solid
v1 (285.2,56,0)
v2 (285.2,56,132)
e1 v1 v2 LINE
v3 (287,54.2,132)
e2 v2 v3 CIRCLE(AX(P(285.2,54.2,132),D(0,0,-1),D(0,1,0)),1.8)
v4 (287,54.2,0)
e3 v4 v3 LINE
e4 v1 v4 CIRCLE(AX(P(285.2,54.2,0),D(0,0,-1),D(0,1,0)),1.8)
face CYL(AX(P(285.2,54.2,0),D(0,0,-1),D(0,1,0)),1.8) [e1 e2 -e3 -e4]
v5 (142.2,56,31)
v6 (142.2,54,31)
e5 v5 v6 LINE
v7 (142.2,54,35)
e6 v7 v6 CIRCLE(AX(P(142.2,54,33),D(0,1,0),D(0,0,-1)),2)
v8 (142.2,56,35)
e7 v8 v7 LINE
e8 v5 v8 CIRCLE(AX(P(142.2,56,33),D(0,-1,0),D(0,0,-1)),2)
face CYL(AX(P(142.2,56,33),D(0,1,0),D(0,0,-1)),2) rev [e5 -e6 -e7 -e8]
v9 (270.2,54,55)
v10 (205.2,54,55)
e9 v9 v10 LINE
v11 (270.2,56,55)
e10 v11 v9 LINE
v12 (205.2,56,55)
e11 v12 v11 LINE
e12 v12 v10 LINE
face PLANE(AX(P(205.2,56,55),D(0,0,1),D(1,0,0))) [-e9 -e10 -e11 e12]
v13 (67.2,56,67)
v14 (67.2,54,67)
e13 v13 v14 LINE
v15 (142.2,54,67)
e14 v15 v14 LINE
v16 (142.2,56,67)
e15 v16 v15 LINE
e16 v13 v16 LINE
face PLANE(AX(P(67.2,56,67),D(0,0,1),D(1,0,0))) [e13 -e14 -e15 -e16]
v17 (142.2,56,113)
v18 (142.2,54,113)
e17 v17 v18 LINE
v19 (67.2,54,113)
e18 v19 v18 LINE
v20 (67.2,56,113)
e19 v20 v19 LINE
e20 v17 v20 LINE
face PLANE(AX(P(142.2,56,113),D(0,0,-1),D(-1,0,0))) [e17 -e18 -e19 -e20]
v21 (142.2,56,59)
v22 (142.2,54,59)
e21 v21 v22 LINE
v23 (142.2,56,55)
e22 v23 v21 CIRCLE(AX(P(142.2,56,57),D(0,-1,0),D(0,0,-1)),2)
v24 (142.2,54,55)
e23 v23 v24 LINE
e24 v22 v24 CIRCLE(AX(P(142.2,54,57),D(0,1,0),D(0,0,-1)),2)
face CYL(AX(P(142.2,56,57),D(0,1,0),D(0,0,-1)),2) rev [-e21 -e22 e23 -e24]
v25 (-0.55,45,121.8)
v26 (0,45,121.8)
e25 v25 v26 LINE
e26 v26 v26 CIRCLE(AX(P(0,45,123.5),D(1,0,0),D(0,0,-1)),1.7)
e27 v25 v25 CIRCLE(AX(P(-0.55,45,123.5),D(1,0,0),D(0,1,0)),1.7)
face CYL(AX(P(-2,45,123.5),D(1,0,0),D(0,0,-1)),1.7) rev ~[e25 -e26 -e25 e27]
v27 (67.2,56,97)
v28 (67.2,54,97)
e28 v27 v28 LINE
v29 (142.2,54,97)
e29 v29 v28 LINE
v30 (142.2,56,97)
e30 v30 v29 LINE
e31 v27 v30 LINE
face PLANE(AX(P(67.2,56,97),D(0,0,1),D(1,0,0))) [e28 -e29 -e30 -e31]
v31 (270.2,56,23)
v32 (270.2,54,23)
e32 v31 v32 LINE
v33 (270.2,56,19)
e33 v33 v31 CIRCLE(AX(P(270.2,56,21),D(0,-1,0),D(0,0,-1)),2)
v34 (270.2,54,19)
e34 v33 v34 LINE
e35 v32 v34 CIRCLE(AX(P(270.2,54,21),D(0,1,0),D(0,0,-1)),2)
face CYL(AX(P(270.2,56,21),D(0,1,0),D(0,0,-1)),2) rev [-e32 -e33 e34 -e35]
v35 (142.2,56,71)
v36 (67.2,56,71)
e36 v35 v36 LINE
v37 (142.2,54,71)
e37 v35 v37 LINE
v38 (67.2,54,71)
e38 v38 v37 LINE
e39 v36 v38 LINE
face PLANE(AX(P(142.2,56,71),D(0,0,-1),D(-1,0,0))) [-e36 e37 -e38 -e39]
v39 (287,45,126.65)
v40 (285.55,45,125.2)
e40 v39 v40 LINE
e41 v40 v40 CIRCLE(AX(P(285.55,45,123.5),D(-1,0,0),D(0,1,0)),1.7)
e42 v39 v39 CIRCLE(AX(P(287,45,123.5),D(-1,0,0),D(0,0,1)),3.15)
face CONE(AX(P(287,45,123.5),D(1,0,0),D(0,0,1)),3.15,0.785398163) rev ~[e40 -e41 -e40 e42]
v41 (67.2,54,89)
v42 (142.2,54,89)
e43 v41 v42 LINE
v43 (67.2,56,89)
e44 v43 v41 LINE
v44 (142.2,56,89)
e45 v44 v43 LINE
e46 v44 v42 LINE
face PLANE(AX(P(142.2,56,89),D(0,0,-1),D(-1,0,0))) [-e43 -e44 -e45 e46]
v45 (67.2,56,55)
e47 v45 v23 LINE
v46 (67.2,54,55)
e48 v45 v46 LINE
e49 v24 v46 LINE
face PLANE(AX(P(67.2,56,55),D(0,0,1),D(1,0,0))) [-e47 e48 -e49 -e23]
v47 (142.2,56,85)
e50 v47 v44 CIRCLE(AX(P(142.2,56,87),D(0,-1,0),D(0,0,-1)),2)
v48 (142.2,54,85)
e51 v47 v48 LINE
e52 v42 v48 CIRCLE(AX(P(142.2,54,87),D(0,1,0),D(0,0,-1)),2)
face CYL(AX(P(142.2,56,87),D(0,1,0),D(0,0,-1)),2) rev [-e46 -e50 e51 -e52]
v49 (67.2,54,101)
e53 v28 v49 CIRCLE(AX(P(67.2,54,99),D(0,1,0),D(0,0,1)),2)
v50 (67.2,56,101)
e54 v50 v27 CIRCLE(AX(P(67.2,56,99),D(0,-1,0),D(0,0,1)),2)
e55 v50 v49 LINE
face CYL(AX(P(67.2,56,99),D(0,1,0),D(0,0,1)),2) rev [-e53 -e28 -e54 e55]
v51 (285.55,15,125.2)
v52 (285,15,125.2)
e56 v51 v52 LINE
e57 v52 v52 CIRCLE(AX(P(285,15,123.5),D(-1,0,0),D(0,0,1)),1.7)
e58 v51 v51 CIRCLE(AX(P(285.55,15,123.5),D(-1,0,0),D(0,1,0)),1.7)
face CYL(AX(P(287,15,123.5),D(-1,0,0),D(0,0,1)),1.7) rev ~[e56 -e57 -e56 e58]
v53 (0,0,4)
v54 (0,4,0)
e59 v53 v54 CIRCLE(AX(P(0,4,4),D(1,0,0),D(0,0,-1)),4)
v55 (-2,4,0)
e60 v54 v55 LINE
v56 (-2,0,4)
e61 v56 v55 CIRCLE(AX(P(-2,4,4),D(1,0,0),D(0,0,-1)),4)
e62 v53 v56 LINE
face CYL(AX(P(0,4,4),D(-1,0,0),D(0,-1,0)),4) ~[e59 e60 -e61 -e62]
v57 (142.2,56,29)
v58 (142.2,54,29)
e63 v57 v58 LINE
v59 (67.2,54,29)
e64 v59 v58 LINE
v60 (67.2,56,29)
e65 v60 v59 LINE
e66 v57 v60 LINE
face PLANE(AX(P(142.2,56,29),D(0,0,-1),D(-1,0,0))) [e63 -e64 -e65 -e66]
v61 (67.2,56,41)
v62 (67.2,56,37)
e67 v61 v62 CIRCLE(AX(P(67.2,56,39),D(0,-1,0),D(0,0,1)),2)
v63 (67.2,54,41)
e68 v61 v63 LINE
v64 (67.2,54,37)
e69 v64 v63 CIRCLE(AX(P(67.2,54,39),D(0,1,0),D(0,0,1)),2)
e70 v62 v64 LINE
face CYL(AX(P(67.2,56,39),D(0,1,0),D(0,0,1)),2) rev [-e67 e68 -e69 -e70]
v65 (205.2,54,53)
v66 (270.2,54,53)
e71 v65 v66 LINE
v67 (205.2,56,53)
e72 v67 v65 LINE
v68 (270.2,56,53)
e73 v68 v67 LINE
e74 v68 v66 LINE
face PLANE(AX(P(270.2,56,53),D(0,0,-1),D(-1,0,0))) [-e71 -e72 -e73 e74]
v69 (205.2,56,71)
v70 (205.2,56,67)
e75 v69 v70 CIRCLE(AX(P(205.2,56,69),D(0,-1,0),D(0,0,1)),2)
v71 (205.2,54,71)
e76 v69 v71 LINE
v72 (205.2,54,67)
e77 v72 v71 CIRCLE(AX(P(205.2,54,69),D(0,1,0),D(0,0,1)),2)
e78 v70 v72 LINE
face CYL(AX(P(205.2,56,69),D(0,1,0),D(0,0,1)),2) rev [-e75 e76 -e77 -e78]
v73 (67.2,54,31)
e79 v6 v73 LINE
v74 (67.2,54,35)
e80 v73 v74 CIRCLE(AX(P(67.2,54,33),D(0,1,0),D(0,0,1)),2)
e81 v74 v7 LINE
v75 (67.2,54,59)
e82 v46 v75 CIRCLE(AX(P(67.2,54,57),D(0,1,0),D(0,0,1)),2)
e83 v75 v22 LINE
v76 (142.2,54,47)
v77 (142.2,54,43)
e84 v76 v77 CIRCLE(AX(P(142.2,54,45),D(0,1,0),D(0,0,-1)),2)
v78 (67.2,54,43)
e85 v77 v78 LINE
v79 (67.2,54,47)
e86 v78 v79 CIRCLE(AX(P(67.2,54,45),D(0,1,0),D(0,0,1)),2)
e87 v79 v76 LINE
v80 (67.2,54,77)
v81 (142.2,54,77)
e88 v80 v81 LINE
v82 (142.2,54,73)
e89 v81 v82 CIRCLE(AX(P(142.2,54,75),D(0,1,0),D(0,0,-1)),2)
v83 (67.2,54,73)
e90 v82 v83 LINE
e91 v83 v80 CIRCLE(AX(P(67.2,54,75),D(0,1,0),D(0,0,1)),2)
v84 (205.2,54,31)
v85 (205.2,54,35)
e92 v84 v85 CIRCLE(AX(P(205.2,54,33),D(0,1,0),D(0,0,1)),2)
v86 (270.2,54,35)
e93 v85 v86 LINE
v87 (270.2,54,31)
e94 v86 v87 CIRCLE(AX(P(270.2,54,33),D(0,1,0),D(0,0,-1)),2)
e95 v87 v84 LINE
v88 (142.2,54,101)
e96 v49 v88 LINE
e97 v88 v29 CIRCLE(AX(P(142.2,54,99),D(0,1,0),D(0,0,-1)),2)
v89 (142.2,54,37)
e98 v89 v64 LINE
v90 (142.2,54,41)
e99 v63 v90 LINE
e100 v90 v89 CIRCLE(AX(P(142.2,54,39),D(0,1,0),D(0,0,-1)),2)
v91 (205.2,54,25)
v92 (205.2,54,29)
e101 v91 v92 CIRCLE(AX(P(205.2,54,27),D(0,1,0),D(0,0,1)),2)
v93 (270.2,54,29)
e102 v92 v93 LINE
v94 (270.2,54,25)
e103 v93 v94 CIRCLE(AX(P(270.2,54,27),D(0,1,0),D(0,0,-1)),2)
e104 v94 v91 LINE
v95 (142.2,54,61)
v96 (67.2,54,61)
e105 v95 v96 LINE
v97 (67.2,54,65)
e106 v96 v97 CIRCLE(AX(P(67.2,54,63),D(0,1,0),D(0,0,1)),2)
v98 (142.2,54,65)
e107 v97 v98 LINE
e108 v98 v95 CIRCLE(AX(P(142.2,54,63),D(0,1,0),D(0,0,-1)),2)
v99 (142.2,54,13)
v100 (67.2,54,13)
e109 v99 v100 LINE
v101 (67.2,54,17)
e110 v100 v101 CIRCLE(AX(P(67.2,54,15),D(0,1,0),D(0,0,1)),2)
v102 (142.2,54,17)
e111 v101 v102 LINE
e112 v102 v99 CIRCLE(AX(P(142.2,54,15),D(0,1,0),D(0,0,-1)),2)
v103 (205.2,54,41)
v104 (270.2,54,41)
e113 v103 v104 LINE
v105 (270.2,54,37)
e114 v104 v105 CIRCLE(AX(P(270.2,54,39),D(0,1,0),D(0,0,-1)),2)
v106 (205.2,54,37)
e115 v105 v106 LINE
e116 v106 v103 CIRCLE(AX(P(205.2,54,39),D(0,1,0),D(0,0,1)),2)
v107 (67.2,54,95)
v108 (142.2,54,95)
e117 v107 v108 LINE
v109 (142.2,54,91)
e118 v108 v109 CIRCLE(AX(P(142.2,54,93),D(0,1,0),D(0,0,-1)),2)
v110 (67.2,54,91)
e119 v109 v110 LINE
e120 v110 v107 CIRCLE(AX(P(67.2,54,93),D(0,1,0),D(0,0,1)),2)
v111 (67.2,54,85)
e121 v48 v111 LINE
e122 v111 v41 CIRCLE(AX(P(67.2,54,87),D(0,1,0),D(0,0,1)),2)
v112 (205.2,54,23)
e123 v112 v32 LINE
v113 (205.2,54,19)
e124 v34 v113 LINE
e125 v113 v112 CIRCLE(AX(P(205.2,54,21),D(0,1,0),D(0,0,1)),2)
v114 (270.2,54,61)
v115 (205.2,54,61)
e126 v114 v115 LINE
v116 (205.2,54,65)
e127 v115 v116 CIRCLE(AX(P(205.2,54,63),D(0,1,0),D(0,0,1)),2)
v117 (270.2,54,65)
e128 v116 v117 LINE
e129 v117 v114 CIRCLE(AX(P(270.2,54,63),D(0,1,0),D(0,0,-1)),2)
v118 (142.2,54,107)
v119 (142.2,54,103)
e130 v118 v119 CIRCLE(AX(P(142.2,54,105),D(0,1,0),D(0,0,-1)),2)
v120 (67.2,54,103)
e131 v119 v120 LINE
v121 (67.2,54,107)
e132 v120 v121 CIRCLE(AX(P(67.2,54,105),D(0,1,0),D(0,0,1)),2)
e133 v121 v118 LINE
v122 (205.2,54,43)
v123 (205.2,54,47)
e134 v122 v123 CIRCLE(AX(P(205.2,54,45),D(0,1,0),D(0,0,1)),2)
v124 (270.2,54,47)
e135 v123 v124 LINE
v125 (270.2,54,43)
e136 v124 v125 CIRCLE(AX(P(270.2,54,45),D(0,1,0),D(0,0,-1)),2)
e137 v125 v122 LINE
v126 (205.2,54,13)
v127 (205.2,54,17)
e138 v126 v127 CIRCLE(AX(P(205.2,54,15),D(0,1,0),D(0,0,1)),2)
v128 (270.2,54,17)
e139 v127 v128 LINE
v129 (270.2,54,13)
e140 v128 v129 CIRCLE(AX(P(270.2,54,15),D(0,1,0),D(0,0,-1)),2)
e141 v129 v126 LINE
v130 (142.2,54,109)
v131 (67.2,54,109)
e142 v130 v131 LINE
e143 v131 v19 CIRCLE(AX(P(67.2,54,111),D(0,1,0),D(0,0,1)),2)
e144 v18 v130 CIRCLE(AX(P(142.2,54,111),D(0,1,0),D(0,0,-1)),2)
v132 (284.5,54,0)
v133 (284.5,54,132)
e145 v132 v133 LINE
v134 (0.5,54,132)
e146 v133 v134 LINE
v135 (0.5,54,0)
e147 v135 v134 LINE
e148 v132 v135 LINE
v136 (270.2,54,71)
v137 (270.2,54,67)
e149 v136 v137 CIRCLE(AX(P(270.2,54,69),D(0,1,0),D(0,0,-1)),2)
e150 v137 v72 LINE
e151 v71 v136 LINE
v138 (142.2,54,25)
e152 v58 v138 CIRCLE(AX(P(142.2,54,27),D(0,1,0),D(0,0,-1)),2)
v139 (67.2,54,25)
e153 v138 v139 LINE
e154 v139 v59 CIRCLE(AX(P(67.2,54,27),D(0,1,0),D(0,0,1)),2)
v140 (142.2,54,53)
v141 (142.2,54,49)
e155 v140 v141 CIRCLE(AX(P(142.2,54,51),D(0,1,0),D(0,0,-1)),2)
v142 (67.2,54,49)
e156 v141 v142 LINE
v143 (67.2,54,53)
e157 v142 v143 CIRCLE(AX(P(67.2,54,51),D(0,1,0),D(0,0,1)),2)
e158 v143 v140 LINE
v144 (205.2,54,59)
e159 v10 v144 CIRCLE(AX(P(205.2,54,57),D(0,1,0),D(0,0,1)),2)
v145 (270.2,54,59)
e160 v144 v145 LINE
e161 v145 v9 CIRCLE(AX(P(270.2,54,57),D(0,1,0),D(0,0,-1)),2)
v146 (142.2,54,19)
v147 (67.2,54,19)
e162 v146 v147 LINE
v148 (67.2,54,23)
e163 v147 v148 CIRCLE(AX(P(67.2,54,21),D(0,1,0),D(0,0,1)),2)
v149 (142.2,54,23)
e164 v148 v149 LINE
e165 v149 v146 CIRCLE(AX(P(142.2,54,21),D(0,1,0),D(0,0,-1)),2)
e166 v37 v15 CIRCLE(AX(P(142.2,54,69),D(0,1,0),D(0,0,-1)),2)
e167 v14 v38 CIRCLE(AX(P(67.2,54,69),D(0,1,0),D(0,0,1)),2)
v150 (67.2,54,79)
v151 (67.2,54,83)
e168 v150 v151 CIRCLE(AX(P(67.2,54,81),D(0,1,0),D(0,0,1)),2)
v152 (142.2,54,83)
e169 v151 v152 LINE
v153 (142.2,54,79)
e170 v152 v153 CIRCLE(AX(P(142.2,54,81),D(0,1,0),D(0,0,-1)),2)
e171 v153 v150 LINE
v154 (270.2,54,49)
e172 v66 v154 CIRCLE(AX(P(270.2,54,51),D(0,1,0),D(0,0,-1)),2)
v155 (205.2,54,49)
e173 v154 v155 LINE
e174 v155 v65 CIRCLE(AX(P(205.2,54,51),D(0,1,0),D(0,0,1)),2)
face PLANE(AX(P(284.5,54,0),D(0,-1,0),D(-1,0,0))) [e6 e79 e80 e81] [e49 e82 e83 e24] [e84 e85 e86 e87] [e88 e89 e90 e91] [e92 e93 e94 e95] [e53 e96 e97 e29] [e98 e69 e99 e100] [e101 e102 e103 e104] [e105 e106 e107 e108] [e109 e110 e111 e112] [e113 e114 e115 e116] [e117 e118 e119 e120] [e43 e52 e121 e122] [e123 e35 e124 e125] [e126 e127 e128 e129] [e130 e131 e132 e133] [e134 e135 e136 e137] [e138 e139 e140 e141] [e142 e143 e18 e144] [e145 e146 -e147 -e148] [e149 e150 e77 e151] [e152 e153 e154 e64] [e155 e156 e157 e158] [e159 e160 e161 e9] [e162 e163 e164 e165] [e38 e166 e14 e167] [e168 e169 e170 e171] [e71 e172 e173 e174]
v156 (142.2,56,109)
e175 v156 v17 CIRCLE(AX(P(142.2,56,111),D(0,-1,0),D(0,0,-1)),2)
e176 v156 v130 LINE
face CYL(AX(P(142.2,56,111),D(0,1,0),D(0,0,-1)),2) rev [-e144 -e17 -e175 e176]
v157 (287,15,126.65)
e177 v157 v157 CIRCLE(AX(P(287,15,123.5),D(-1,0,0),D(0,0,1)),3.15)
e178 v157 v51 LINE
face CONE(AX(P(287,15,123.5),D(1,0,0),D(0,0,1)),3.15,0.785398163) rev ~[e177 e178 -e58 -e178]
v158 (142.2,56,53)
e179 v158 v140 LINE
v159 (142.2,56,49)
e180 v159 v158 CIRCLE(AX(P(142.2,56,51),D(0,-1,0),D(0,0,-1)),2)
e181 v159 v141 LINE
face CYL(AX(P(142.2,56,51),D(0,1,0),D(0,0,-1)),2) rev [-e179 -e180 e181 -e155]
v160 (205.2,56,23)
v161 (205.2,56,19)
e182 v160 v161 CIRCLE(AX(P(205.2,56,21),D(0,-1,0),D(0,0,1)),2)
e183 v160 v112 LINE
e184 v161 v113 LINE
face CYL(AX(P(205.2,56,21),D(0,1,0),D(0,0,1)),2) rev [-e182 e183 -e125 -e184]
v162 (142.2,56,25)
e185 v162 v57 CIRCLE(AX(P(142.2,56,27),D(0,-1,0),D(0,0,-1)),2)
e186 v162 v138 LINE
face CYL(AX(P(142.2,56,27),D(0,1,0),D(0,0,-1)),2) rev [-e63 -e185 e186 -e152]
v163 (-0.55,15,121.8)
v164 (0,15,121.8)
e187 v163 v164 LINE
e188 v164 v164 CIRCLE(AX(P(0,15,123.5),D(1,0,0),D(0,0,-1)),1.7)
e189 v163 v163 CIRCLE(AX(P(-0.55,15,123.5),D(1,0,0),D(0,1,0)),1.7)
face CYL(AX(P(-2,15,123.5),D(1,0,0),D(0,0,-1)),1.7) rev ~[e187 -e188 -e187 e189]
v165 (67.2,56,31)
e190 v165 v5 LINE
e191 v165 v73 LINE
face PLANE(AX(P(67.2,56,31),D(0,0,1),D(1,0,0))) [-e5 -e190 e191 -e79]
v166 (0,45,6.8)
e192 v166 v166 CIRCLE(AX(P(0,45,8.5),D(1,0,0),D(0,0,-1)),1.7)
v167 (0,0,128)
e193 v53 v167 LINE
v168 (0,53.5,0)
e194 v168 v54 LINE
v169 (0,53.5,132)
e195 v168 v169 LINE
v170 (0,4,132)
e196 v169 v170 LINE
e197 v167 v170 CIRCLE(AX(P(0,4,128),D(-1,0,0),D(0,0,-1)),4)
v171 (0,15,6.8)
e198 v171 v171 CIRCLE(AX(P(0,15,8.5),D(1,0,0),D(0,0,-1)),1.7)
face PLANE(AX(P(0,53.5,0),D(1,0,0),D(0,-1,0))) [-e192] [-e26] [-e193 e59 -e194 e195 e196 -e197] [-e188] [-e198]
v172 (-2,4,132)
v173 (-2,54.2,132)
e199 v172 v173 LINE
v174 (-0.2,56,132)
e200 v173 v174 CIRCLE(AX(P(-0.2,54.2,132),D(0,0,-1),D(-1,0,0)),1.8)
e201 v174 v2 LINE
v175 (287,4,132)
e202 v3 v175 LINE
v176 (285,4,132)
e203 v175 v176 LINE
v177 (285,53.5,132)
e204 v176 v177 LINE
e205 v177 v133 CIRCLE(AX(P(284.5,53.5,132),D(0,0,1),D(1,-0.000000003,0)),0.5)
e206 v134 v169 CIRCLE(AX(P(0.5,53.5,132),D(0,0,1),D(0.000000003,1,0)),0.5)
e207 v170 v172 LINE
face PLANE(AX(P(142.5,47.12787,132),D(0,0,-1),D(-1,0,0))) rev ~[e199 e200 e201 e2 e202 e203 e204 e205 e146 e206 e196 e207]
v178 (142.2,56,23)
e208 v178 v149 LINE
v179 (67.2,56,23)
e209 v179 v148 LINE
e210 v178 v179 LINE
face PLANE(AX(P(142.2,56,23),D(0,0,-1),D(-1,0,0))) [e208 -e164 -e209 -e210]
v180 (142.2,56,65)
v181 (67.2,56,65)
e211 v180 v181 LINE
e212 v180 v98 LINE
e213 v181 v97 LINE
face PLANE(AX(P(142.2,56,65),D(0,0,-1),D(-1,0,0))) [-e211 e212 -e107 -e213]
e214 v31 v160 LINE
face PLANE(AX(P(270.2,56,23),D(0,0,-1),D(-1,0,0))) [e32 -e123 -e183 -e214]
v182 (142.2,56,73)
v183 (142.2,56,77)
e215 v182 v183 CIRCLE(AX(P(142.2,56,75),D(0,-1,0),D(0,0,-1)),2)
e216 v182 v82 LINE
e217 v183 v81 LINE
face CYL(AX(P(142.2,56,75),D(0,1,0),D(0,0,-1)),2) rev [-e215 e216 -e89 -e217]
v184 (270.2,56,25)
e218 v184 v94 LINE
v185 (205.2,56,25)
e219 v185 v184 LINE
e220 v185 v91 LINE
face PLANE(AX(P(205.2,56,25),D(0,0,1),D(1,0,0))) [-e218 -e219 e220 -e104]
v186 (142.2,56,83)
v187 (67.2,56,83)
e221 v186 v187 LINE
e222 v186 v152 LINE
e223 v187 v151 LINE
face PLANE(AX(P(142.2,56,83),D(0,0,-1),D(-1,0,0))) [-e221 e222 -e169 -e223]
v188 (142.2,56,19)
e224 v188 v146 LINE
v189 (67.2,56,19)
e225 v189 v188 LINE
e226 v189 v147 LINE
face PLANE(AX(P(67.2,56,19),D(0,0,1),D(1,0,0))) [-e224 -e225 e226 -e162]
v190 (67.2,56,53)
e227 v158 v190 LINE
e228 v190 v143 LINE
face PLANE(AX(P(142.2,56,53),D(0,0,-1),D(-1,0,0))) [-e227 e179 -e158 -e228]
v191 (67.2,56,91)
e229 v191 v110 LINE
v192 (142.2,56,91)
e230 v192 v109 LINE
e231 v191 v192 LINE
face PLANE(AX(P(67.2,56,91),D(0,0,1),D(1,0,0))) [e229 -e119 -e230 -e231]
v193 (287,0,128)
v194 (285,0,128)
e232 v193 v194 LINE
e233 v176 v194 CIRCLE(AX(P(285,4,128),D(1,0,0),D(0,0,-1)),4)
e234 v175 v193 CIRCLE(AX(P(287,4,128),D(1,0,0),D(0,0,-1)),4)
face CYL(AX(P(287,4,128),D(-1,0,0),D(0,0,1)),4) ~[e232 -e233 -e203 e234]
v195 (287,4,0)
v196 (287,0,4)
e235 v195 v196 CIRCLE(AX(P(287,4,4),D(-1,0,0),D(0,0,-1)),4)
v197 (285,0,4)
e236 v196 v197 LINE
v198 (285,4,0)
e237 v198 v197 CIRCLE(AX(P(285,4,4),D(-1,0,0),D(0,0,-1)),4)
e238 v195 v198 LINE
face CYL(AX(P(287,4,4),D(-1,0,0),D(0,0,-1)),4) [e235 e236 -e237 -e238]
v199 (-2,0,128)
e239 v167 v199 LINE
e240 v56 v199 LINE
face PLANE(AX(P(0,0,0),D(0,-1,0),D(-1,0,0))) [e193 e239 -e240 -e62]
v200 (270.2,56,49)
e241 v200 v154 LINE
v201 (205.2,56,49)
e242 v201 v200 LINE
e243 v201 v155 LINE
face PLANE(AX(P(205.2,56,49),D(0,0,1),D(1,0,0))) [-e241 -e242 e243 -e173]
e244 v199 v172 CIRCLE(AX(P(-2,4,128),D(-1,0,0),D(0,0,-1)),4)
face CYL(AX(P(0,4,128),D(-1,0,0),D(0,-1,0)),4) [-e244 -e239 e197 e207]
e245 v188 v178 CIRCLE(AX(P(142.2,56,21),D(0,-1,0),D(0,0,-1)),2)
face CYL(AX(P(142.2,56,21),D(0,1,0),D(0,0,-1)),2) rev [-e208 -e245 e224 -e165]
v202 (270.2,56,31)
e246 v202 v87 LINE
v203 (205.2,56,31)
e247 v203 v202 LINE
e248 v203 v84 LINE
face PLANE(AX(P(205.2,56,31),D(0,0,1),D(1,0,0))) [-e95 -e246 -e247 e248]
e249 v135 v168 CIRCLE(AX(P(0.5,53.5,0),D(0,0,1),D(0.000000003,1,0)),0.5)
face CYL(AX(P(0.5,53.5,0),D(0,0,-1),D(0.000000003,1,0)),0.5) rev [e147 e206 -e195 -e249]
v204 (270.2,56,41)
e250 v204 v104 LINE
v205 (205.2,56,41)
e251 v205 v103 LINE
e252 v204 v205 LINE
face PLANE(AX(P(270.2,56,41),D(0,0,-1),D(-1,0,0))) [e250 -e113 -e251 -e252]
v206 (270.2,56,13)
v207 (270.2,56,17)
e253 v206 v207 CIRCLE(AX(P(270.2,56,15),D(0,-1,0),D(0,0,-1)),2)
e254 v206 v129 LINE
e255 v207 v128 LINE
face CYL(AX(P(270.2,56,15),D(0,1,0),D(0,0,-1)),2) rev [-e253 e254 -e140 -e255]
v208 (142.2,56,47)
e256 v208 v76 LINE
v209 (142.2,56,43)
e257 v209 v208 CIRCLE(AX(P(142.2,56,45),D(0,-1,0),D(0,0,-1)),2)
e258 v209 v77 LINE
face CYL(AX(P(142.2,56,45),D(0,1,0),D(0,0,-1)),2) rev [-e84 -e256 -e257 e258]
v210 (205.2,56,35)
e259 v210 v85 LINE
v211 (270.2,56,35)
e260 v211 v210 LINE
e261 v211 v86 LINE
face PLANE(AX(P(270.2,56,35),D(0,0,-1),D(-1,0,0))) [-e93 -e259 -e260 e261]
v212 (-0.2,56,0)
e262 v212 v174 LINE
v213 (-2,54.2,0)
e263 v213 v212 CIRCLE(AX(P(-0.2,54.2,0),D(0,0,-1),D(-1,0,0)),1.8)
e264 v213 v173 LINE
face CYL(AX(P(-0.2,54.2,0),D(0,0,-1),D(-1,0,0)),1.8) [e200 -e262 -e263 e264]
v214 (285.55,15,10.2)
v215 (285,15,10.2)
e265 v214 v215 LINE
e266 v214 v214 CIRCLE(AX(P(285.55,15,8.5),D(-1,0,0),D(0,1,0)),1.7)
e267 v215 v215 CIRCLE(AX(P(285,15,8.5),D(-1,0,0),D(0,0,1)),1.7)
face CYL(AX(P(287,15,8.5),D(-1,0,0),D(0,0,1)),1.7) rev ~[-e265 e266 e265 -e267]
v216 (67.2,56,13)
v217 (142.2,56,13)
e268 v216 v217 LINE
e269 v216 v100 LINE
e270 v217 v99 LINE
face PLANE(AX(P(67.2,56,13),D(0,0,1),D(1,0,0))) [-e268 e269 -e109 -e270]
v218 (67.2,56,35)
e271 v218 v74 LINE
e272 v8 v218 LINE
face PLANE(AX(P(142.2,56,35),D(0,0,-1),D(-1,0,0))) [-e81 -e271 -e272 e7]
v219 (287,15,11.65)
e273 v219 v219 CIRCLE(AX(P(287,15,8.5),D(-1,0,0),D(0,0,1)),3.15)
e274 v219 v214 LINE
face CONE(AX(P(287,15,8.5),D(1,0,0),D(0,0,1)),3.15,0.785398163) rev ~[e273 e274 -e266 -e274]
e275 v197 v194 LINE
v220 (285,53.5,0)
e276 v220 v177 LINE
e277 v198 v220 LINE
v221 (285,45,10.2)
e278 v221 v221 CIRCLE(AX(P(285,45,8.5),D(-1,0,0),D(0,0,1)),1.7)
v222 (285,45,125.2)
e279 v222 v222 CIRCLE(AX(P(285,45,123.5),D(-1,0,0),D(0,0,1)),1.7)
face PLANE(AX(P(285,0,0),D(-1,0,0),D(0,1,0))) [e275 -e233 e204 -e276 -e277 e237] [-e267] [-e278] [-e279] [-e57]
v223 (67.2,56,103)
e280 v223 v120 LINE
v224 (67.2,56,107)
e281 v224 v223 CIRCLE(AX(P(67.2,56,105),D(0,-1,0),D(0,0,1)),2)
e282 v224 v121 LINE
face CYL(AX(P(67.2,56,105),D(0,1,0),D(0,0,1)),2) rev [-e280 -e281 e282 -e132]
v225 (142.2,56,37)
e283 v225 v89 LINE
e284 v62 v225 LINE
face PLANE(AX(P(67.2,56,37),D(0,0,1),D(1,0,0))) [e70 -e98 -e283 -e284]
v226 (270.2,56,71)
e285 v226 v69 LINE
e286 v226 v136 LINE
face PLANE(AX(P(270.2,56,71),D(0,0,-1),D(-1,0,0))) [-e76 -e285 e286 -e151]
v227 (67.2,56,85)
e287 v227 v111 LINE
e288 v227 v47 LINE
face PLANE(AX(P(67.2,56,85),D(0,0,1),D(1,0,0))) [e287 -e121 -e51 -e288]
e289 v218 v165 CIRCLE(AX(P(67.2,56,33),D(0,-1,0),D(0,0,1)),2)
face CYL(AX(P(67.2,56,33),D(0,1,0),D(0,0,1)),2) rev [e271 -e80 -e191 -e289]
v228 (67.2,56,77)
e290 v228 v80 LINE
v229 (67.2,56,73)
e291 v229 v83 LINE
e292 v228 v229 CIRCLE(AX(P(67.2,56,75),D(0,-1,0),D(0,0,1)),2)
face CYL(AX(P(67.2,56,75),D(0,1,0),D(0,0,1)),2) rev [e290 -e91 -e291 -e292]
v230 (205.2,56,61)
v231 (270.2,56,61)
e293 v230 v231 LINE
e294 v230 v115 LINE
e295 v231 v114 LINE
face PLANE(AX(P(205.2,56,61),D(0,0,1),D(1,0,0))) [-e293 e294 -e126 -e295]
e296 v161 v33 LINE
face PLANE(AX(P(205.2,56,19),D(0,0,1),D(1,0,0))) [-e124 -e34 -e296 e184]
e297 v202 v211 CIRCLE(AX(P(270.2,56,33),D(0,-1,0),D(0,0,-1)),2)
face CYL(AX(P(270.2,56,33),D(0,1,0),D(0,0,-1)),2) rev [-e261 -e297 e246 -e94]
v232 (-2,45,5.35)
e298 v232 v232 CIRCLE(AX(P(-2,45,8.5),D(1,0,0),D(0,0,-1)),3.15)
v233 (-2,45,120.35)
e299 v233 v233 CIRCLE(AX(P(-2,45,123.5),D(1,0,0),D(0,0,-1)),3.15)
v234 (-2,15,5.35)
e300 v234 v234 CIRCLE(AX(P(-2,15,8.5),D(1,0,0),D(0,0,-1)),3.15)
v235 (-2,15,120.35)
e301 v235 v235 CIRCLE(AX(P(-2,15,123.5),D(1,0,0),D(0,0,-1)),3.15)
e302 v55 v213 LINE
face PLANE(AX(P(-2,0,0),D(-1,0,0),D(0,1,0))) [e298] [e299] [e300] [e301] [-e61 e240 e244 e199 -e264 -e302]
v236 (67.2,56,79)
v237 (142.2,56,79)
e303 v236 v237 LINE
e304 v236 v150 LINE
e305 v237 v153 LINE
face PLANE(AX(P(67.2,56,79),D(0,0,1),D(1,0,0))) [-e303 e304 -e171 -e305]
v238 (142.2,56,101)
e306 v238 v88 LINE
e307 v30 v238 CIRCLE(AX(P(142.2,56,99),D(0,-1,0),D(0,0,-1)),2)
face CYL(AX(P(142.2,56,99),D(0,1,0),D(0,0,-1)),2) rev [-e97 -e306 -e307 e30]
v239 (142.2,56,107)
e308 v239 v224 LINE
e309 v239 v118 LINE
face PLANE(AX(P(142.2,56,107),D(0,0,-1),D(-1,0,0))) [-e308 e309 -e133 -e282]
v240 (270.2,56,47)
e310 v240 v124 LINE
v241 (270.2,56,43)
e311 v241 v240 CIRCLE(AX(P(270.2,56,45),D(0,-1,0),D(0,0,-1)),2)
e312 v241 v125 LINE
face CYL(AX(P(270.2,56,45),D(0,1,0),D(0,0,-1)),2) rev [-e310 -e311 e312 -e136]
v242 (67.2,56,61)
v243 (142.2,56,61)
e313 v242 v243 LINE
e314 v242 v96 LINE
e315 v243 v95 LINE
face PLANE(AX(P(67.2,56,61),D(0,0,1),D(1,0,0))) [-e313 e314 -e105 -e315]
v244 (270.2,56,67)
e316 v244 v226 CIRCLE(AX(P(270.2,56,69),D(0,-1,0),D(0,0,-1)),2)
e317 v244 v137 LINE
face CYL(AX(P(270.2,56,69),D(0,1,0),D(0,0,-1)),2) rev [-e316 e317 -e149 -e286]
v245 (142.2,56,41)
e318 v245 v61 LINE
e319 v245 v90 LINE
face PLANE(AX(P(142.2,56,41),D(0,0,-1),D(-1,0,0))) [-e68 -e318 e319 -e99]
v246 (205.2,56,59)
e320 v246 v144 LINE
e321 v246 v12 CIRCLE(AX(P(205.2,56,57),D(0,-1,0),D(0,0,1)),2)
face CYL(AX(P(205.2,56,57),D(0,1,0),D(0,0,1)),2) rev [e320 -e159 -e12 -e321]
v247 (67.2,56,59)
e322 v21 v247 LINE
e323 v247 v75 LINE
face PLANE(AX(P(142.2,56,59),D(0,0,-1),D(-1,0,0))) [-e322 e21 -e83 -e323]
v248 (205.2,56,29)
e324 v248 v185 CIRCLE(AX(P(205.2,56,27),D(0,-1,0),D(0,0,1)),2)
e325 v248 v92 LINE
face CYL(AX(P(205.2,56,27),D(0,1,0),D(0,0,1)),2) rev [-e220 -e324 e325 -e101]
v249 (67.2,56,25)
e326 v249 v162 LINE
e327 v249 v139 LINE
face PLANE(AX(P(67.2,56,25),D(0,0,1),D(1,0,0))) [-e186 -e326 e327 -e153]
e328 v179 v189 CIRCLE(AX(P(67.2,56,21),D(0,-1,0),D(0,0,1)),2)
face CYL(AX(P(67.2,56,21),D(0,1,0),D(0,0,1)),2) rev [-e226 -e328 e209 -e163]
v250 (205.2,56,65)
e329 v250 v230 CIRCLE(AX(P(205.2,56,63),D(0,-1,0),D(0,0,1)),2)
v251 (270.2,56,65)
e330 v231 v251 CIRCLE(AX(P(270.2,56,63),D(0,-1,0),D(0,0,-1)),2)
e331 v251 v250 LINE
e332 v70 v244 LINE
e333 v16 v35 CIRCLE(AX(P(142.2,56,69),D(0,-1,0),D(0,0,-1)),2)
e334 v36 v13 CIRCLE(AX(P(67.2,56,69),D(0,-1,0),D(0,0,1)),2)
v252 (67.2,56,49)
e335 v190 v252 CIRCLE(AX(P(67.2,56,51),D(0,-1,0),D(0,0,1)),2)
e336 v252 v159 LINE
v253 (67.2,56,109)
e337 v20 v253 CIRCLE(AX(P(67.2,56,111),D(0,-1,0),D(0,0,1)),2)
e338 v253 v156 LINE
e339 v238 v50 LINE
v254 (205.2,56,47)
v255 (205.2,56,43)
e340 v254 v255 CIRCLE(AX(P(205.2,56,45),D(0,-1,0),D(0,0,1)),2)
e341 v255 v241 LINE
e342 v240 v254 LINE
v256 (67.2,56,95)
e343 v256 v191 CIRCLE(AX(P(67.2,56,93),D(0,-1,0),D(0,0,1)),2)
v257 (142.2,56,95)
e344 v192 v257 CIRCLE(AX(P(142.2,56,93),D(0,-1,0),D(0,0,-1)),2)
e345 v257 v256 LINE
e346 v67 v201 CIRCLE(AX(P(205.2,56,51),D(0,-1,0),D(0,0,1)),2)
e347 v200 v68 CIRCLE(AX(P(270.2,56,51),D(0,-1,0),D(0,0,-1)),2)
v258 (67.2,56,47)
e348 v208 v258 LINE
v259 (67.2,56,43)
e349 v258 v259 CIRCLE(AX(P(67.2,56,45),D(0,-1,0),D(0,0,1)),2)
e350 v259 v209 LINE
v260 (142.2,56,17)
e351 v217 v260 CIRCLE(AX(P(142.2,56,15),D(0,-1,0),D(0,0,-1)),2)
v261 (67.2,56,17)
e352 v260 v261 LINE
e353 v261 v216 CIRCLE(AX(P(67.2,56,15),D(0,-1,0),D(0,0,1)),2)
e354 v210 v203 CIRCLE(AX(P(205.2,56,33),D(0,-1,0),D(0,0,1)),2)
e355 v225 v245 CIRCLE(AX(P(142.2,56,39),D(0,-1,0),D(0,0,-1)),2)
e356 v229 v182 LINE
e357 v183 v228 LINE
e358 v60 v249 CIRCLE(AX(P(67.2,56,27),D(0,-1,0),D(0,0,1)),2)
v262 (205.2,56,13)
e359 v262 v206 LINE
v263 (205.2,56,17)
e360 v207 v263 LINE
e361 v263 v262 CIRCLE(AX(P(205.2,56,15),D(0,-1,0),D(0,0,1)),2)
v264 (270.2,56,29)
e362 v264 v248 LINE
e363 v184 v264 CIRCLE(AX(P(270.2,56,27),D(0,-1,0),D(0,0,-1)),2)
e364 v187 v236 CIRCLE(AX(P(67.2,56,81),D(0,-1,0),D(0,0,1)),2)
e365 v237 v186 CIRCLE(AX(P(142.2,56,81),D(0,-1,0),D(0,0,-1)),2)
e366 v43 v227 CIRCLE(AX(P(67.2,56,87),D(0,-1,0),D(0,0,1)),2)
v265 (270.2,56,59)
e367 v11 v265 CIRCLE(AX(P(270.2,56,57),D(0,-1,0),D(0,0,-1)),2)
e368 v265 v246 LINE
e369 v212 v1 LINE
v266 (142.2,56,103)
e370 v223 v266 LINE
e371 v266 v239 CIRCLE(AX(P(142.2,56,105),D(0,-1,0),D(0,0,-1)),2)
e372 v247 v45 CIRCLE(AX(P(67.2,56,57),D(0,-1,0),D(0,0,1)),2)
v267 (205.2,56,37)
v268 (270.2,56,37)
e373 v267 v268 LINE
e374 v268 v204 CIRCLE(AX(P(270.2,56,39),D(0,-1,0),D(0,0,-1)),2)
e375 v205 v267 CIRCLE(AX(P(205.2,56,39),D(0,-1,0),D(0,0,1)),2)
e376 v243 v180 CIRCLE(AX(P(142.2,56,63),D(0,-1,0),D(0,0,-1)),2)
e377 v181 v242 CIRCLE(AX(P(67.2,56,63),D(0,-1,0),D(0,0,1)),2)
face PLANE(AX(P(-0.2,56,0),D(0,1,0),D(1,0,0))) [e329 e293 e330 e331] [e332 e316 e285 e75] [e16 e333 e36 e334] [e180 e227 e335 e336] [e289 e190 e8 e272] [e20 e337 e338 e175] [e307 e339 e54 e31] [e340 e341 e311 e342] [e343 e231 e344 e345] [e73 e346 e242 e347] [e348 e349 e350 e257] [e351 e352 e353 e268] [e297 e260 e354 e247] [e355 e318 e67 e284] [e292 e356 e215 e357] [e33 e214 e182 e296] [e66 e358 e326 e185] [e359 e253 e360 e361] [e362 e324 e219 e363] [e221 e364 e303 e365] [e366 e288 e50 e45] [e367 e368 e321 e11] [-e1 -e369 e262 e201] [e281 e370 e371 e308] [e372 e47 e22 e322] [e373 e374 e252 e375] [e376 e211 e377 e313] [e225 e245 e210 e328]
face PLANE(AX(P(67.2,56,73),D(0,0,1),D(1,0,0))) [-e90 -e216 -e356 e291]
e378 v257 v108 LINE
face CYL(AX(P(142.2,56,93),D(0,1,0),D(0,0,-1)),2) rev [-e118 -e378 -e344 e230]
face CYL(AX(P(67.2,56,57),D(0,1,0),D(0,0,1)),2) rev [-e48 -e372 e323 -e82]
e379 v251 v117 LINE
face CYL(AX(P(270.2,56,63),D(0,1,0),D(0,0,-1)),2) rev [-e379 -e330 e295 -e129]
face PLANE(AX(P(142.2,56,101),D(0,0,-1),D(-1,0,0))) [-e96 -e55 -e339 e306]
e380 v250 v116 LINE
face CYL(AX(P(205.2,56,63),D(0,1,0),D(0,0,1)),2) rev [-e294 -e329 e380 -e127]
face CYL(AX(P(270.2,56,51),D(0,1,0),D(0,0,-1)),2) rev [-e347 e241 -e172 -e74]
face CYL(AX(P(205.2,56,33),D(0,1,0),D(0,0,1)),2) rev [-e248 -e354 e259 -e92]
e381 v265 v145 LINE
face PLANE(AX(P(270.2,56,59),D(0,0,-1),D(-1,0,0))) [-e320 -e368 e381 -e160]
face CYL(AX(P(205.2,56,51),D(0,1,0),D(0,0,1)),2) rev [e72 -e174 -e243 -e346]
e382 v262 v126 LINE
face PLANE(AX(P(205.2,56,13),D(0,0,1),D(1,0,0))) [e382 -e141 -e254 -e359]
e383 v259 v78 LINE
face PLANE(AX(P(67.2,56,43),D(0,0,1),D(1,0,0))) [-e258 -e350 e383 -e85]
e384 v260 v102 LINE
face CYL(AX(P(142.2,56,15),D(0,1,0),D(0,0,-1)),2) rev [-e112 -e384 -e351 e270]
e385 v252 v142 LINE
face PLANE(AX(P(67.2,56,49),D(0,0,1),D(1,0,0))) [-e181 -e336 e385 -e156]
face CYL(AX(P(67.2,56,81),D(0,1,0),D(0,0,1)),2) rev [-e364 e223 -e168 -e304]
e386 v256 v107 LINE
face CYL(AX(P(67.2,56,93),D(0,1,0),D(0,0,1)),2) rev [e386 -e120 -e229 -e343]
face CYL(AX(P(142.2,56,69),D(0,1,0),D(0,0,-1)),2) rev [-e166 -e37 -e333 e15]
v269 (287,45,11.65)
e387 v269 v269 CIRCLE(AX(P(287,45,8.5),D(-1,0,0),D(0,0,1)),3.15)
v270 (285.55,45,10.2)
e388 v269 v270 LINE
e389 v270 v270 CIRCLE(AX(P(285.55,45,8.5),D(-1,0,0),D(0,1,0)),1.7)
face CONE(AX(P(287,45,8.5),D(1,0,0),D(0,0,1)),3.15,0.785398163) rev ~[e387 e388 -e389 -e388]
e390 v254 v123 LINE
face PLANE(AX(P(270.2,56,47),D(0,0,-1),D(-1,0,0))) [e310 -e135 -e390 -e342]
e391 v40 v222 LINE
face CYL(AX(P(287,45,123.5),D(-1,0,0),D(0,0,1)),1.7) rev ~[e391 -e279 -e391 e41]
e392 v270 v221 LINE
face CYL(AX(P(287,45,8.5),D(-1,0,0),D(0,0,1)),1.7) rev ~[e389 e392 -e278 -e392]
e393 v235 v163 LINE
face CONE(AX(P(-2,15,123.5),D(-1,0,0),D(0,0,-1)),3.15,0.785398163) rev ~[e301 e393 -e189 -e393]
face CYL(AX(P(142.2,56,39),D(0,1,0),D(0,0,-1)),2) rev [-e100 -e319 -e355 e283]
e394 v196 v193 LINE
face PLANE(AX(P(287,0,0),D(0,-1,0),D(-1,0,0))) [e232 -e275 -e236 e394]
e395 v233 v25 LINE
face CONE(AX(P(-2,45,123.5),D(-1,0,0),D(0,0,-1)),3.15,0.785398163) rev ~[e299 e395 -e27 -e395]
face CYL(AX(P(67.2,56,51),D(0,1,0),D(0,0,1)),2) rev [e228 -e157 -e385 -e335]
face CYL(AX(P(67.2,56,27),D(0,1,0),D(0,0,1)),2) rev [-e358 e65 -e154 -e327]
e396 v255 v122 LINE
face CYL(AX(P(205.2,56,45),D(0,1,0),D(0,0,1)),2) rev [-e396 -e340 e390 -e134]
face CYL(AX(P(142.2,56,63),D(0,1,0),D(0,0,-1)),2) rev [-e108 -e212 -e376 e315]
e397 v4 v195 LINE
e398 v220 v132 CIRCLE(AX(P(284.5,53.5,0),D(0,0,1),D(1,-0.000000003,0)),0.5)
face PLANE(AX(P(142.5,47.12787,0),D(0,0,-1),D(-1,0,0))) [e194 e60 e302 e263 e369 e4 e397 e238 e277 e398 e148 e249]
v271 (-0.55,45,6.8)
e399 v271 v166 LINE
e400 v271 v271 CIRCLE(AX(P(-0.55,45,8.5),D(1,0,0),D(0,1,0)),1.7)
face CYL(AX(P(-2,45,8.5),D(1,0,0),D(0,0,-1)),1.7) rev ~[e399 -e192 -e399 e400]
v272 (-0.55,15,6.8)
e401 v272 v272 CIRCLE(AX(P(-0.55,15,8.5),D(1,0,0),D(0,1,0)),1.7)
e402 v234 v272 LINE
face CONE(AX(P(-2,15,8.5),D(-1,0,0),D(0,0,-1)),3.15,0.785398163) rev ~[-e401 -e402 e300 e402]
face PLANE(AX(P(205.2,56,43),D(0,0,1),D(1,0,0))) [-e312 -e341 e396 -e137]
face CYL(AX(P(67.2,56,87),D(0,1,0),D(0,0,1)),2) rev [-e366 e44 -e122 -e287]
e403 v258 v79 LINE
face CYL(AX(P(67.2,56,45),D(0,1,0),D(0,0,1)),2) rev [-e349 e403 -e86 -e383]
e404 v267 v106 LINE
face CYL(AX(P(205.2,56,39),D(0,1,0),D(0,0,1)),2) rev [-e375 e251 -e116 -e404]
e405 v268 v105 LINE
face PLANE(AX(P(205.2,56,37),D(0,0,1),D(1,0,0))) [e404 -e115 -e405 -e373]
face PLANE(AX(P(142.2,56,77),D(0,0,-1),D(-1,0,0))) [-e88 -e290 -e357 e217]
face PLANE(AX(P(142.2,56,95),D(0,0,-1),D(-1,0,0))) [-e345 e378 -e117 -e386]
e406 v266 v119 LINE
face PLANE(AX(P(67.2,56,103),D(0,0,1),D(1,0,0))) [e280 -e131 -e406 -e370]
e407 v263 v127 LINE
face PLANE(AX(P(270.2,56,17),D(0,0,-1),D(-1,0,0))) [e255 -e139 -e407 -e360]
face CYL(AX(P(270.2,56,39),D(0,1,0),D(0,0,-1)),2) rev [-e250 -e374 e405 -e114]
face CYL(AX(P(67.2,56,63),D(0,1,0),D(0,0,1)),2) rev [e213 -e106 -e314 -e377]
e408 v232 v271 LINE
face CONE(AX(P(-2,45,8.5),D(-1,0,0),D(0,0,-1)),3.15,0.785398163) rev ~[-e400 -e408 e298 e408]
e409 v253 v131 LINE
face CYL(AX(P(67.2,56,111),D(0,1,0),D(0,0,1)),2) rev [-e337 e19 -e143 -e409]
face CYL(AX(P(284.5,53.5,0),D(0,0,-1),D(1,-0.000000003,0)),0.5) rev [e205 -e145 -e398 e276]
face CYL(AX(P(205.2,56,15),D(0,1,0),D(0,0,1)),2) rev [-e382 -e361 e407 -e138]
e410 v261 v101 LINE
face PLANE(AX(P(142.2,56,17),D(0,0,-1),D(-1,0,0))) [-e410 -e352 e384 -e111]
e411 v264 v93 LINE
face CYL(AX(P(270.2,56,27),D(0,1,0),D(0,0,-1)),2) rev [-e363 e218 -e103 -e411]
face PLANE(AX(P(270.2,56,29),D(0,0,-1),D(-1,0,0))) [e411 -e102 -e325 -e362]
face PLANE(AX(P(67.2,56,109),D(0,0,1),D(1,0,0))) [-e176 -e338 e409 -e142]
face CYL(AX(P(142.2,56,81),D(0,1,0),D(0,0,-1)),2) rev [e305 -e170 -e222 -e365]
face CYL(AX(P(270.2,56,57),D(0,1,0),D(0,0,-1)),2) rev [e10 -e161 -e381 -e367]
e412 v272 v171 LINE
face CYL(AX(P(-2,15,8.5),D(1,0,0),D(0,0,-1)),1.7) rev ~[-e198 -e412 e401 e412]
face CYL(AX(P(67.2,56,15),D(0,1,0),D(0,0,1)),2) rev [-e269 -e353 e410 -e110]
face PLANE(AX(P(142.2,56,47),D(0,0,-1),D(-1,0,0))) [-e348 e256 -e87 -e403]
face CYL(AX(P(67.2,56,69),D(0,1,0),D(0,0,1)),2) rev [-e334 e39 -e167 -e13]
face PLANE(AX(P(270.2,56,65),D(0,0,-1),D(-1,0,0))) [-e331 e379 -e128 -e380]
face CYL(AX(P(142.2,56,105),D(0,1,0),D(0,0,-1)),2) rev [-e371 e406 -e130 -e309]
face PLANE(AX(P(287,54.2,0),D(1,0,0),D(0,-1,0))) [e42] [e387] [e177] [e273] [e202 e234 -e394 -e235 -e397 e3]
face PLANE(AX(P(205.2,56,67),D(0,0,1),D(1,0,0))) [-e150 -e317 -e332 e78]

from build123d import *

# Parameters (mm, degrees)
BOSS_EXTRUDE1_DEPTH                             = 132
CSK_FOR_M3_FLAT_HEAD_MACHINE_SCREW1_D           = 3.4
CSK_FOR_M3_FLAT_HEAD_MACHINE_SCREW1_DEPTH       = 5
CSK_FOR_M3_FLAT_HEAD_MACHINE_SCREW1_CSINK_D     = 6.3
CSK_FOR_M3_FLAT_HEAD_MACHINE_SCREW1_CSINK_ANGLE = 90
CSK_FOR_M3_FLAT_HEAD_MACHINE_SCREW1_TIP         = 1.021463052
CSK_FOR_M3_FLAT_HEAD_MACHINE_SCREW2_D           = 3.4
CSK_FOR_M3_FLAT_HEAD_MACHINE_SCREW2_DEPTH       = 5
CSK_FOR_M3_FLAT_HEAD_MACHINE_SCREW2_CSINK_D     = 6.3
CSK_FOR_M3_FLAT_HEAD_MACHINE_SCREW2_CSINK_ANGLE = 90
CSK_FOR_M3_FLAT_HEAD_MACHINE_SCREW2_TIP         = 1.021463052
CUT_EXTRUDE1_DEPTH                              = 5
LPATTERN1_COUNT                                 = 17
LPATTERN1_PITCH                                 = 6
CUT_EXTRUDE2_DEPTH                              = 200
LPATTERN2_COUNT                                 = 10
LPATTERN2_PITCH                                 = 6
FILLET1_R                                       = 4


with BuildPart() as part:
    # Sketch1 → Boss-Extrude1 (new body)
    with BuildSketch(Plane.XY):
        with BuildLine():
            Line((0, 0), (-2, 0))
            Line((-2, 0), (-2, 54.2))
            ThreePointArc((-2, 54.2), (-1.472792206, 55.472792206), (-0.2, 56))
            Line((-0.2, 56), (285.2, 56))
            ThreePointArc((285.2, 56), (286.472792206, 55.472792206), (287, 54.2))
            Line((287, 54.2), (287, 0))
            Line((287, 0), (285, 0))
            Line((285, 0), (285, 53.5))
            ThreePointArc((285, 53.5), (284.853553391, 53.853553391), (284.5, 54))
            Line((284.5, 54), (0.5, 54))
            ThreePointArc((0.5, 54), (0.146446609, 53.853553391), (0, 53.5))
            Line((0, 53.5), (0, 0))
        make_face()
    extrude(amount=BOSS_EXTRUDE1_DEPTH)

    # CSK for M3 Flat Head Machine Screw1
    with Locations(Plane.ZY.offset(2)):
        with Locations((8.5, 45), (8.5, 15), (123.5, 45), (123.5, 15)):
            CounterSinkHole(CSK_FOR_M3_FLAT_HEAD_MACHINE_SCREW1_D / 2, CSK_FOR_M3_FLAT_HEAD_MACHINE_SCREW1_CSINK_D / 2, depth=CSK_FOR_M3_FLAT_HEAD_MACHINE_SCREW1_DEPTH, counter_sink_angle=CSK_FOR_M3_FLAT_HEAD_MACHINE_SCREW1_CSINK_ANGLE)
            with Locations((0, 0, -(CSK_FOR_M3_FLAT_HEAD_MACHINE_SCREW1_DEPTH + CSK_FOR_M3_FLAT_HEAD_MACHINE_SCREW1_TIP / 2))):  # 118° drill point
                Cone(0, CSK_FOR_M3_FLAT_HEAD_MACHINE_SCREW1_D / 2, CSK_FOR_M3_FLAT_HEAD_MACHINE_SCREW1_TIP, mode=Mode.SUBTRACT)

    # CSK for M3 Flat Head Machine Screw2
    with Locations(Plane(origin=(287, 0, 0), x_dir=(0, 0, -1), z_dir=(1, 0, 0))):
        with Locations((-123.5, 45), (-123.5, 15), (-8.5, 45), (-8.5, 15)):
            CounterSinkHole(CSK_FOR_M3_FLAT_HEAD_MACHINE_SCREW2_D / 2, CSK_FOR_M3_FLAT_HEAD_MACHINE_SCREW2_CSINK_D / 2, depth=CSK_FOR_M3_FLAT_HEAD_MACHINE_SCREW2_DEPTH, counter_sink_angle=CSK_FOR_M3_FLAT_HEAD_MACHINE_SCREW2_CSINK_ANGLE)
            with Locations((0, 0, -(CSK_FOR_M3_FLAT_HEAD_MACHINE_SCREW2_DEPTH + CSK_FOR_M3_FLAT_HEAD_MACHINE_SCREW2_TIP / 2))):  # 118° drill point
                Cone(0, CSK_FOR_M3_FLAT_HEAD_MACHINE_SCREW2_D / 2, CSK_FOR_M3_FLAT_HEAD_MACHINE_SCREW2_TIP, mode=Mode.SUBTRACT)

    # Sketch6 → Cut-Extrude1 (cut)
    with BuildSketch(Plane(origin=(0, 56, 0), x_dir=(1, 0, 0), z_dir=(0, 1, 0))):
        with BuildLine():
            Line((67.2, -13), (142.2, -13))
            ThreePointArc((142.2, -13), (144.2, -15), (142.2, -17))
            Line((142.2, -17), (67.2, -17))
            ThreePointArc((67.2, -17), (65.2, -15), (67.2, -13))
        make_face()
    cut_extrude1 = extrude(amount=-CUT_EXTRUDE1_DEPTH, mode=Mode.SUBTRACT)

    # LPattern1: Cut-Extrude1 ×17
    with Locations(*[(0, 0, i * LPATTERN1_PITCH) for i in range(1, LPATTERN1_COUNT)]):
        add(cut_extrude1, mode=Mode.SUBTRACT)

    # Sketch7 → Cut-Extrude2 (cut)
    with BuildSketch(Plane(origin=(0, 56, 0), x_dir=(1, 0, 0), z_dir=(0, 1, 0))):
        with BuildLine():
            Line((205.2, -13), (270.2, -13))
            ThreePointArc((270.2, -13), (272.2, -15), (270.2, -17))
            Line((270.2, -17), (205.2, -17))
            ThreePointArc((205.2, -17), (203.2, -15), (205.2, -13))
        make_face()
    cut_extrude2 = extrude(amount=-CUT_EXTRUDE2_DEPTH, mode=Mode.SUBTRACT)

    # LPattern2: Cut-Extrude2 ×10
    with Locations(*[(0, 0, i * LPATTERN2_PITCH) for i in range(1, LPATTERN2_COUNT)]):
        add(cut_extrude2, mode=Mode.SUBTRACT)

    # Fillet1
    fillet1_edges = [part.edges().sort_by_distance(p)[0] for p in [
        (-1, 0, 0),
        (286, 0, 0),
        (286, 0, 132),
        (-1, 0, 132),
    ]]
    fillet(fillet1_edges, radius=FILLET1_R)


solid = part.part
